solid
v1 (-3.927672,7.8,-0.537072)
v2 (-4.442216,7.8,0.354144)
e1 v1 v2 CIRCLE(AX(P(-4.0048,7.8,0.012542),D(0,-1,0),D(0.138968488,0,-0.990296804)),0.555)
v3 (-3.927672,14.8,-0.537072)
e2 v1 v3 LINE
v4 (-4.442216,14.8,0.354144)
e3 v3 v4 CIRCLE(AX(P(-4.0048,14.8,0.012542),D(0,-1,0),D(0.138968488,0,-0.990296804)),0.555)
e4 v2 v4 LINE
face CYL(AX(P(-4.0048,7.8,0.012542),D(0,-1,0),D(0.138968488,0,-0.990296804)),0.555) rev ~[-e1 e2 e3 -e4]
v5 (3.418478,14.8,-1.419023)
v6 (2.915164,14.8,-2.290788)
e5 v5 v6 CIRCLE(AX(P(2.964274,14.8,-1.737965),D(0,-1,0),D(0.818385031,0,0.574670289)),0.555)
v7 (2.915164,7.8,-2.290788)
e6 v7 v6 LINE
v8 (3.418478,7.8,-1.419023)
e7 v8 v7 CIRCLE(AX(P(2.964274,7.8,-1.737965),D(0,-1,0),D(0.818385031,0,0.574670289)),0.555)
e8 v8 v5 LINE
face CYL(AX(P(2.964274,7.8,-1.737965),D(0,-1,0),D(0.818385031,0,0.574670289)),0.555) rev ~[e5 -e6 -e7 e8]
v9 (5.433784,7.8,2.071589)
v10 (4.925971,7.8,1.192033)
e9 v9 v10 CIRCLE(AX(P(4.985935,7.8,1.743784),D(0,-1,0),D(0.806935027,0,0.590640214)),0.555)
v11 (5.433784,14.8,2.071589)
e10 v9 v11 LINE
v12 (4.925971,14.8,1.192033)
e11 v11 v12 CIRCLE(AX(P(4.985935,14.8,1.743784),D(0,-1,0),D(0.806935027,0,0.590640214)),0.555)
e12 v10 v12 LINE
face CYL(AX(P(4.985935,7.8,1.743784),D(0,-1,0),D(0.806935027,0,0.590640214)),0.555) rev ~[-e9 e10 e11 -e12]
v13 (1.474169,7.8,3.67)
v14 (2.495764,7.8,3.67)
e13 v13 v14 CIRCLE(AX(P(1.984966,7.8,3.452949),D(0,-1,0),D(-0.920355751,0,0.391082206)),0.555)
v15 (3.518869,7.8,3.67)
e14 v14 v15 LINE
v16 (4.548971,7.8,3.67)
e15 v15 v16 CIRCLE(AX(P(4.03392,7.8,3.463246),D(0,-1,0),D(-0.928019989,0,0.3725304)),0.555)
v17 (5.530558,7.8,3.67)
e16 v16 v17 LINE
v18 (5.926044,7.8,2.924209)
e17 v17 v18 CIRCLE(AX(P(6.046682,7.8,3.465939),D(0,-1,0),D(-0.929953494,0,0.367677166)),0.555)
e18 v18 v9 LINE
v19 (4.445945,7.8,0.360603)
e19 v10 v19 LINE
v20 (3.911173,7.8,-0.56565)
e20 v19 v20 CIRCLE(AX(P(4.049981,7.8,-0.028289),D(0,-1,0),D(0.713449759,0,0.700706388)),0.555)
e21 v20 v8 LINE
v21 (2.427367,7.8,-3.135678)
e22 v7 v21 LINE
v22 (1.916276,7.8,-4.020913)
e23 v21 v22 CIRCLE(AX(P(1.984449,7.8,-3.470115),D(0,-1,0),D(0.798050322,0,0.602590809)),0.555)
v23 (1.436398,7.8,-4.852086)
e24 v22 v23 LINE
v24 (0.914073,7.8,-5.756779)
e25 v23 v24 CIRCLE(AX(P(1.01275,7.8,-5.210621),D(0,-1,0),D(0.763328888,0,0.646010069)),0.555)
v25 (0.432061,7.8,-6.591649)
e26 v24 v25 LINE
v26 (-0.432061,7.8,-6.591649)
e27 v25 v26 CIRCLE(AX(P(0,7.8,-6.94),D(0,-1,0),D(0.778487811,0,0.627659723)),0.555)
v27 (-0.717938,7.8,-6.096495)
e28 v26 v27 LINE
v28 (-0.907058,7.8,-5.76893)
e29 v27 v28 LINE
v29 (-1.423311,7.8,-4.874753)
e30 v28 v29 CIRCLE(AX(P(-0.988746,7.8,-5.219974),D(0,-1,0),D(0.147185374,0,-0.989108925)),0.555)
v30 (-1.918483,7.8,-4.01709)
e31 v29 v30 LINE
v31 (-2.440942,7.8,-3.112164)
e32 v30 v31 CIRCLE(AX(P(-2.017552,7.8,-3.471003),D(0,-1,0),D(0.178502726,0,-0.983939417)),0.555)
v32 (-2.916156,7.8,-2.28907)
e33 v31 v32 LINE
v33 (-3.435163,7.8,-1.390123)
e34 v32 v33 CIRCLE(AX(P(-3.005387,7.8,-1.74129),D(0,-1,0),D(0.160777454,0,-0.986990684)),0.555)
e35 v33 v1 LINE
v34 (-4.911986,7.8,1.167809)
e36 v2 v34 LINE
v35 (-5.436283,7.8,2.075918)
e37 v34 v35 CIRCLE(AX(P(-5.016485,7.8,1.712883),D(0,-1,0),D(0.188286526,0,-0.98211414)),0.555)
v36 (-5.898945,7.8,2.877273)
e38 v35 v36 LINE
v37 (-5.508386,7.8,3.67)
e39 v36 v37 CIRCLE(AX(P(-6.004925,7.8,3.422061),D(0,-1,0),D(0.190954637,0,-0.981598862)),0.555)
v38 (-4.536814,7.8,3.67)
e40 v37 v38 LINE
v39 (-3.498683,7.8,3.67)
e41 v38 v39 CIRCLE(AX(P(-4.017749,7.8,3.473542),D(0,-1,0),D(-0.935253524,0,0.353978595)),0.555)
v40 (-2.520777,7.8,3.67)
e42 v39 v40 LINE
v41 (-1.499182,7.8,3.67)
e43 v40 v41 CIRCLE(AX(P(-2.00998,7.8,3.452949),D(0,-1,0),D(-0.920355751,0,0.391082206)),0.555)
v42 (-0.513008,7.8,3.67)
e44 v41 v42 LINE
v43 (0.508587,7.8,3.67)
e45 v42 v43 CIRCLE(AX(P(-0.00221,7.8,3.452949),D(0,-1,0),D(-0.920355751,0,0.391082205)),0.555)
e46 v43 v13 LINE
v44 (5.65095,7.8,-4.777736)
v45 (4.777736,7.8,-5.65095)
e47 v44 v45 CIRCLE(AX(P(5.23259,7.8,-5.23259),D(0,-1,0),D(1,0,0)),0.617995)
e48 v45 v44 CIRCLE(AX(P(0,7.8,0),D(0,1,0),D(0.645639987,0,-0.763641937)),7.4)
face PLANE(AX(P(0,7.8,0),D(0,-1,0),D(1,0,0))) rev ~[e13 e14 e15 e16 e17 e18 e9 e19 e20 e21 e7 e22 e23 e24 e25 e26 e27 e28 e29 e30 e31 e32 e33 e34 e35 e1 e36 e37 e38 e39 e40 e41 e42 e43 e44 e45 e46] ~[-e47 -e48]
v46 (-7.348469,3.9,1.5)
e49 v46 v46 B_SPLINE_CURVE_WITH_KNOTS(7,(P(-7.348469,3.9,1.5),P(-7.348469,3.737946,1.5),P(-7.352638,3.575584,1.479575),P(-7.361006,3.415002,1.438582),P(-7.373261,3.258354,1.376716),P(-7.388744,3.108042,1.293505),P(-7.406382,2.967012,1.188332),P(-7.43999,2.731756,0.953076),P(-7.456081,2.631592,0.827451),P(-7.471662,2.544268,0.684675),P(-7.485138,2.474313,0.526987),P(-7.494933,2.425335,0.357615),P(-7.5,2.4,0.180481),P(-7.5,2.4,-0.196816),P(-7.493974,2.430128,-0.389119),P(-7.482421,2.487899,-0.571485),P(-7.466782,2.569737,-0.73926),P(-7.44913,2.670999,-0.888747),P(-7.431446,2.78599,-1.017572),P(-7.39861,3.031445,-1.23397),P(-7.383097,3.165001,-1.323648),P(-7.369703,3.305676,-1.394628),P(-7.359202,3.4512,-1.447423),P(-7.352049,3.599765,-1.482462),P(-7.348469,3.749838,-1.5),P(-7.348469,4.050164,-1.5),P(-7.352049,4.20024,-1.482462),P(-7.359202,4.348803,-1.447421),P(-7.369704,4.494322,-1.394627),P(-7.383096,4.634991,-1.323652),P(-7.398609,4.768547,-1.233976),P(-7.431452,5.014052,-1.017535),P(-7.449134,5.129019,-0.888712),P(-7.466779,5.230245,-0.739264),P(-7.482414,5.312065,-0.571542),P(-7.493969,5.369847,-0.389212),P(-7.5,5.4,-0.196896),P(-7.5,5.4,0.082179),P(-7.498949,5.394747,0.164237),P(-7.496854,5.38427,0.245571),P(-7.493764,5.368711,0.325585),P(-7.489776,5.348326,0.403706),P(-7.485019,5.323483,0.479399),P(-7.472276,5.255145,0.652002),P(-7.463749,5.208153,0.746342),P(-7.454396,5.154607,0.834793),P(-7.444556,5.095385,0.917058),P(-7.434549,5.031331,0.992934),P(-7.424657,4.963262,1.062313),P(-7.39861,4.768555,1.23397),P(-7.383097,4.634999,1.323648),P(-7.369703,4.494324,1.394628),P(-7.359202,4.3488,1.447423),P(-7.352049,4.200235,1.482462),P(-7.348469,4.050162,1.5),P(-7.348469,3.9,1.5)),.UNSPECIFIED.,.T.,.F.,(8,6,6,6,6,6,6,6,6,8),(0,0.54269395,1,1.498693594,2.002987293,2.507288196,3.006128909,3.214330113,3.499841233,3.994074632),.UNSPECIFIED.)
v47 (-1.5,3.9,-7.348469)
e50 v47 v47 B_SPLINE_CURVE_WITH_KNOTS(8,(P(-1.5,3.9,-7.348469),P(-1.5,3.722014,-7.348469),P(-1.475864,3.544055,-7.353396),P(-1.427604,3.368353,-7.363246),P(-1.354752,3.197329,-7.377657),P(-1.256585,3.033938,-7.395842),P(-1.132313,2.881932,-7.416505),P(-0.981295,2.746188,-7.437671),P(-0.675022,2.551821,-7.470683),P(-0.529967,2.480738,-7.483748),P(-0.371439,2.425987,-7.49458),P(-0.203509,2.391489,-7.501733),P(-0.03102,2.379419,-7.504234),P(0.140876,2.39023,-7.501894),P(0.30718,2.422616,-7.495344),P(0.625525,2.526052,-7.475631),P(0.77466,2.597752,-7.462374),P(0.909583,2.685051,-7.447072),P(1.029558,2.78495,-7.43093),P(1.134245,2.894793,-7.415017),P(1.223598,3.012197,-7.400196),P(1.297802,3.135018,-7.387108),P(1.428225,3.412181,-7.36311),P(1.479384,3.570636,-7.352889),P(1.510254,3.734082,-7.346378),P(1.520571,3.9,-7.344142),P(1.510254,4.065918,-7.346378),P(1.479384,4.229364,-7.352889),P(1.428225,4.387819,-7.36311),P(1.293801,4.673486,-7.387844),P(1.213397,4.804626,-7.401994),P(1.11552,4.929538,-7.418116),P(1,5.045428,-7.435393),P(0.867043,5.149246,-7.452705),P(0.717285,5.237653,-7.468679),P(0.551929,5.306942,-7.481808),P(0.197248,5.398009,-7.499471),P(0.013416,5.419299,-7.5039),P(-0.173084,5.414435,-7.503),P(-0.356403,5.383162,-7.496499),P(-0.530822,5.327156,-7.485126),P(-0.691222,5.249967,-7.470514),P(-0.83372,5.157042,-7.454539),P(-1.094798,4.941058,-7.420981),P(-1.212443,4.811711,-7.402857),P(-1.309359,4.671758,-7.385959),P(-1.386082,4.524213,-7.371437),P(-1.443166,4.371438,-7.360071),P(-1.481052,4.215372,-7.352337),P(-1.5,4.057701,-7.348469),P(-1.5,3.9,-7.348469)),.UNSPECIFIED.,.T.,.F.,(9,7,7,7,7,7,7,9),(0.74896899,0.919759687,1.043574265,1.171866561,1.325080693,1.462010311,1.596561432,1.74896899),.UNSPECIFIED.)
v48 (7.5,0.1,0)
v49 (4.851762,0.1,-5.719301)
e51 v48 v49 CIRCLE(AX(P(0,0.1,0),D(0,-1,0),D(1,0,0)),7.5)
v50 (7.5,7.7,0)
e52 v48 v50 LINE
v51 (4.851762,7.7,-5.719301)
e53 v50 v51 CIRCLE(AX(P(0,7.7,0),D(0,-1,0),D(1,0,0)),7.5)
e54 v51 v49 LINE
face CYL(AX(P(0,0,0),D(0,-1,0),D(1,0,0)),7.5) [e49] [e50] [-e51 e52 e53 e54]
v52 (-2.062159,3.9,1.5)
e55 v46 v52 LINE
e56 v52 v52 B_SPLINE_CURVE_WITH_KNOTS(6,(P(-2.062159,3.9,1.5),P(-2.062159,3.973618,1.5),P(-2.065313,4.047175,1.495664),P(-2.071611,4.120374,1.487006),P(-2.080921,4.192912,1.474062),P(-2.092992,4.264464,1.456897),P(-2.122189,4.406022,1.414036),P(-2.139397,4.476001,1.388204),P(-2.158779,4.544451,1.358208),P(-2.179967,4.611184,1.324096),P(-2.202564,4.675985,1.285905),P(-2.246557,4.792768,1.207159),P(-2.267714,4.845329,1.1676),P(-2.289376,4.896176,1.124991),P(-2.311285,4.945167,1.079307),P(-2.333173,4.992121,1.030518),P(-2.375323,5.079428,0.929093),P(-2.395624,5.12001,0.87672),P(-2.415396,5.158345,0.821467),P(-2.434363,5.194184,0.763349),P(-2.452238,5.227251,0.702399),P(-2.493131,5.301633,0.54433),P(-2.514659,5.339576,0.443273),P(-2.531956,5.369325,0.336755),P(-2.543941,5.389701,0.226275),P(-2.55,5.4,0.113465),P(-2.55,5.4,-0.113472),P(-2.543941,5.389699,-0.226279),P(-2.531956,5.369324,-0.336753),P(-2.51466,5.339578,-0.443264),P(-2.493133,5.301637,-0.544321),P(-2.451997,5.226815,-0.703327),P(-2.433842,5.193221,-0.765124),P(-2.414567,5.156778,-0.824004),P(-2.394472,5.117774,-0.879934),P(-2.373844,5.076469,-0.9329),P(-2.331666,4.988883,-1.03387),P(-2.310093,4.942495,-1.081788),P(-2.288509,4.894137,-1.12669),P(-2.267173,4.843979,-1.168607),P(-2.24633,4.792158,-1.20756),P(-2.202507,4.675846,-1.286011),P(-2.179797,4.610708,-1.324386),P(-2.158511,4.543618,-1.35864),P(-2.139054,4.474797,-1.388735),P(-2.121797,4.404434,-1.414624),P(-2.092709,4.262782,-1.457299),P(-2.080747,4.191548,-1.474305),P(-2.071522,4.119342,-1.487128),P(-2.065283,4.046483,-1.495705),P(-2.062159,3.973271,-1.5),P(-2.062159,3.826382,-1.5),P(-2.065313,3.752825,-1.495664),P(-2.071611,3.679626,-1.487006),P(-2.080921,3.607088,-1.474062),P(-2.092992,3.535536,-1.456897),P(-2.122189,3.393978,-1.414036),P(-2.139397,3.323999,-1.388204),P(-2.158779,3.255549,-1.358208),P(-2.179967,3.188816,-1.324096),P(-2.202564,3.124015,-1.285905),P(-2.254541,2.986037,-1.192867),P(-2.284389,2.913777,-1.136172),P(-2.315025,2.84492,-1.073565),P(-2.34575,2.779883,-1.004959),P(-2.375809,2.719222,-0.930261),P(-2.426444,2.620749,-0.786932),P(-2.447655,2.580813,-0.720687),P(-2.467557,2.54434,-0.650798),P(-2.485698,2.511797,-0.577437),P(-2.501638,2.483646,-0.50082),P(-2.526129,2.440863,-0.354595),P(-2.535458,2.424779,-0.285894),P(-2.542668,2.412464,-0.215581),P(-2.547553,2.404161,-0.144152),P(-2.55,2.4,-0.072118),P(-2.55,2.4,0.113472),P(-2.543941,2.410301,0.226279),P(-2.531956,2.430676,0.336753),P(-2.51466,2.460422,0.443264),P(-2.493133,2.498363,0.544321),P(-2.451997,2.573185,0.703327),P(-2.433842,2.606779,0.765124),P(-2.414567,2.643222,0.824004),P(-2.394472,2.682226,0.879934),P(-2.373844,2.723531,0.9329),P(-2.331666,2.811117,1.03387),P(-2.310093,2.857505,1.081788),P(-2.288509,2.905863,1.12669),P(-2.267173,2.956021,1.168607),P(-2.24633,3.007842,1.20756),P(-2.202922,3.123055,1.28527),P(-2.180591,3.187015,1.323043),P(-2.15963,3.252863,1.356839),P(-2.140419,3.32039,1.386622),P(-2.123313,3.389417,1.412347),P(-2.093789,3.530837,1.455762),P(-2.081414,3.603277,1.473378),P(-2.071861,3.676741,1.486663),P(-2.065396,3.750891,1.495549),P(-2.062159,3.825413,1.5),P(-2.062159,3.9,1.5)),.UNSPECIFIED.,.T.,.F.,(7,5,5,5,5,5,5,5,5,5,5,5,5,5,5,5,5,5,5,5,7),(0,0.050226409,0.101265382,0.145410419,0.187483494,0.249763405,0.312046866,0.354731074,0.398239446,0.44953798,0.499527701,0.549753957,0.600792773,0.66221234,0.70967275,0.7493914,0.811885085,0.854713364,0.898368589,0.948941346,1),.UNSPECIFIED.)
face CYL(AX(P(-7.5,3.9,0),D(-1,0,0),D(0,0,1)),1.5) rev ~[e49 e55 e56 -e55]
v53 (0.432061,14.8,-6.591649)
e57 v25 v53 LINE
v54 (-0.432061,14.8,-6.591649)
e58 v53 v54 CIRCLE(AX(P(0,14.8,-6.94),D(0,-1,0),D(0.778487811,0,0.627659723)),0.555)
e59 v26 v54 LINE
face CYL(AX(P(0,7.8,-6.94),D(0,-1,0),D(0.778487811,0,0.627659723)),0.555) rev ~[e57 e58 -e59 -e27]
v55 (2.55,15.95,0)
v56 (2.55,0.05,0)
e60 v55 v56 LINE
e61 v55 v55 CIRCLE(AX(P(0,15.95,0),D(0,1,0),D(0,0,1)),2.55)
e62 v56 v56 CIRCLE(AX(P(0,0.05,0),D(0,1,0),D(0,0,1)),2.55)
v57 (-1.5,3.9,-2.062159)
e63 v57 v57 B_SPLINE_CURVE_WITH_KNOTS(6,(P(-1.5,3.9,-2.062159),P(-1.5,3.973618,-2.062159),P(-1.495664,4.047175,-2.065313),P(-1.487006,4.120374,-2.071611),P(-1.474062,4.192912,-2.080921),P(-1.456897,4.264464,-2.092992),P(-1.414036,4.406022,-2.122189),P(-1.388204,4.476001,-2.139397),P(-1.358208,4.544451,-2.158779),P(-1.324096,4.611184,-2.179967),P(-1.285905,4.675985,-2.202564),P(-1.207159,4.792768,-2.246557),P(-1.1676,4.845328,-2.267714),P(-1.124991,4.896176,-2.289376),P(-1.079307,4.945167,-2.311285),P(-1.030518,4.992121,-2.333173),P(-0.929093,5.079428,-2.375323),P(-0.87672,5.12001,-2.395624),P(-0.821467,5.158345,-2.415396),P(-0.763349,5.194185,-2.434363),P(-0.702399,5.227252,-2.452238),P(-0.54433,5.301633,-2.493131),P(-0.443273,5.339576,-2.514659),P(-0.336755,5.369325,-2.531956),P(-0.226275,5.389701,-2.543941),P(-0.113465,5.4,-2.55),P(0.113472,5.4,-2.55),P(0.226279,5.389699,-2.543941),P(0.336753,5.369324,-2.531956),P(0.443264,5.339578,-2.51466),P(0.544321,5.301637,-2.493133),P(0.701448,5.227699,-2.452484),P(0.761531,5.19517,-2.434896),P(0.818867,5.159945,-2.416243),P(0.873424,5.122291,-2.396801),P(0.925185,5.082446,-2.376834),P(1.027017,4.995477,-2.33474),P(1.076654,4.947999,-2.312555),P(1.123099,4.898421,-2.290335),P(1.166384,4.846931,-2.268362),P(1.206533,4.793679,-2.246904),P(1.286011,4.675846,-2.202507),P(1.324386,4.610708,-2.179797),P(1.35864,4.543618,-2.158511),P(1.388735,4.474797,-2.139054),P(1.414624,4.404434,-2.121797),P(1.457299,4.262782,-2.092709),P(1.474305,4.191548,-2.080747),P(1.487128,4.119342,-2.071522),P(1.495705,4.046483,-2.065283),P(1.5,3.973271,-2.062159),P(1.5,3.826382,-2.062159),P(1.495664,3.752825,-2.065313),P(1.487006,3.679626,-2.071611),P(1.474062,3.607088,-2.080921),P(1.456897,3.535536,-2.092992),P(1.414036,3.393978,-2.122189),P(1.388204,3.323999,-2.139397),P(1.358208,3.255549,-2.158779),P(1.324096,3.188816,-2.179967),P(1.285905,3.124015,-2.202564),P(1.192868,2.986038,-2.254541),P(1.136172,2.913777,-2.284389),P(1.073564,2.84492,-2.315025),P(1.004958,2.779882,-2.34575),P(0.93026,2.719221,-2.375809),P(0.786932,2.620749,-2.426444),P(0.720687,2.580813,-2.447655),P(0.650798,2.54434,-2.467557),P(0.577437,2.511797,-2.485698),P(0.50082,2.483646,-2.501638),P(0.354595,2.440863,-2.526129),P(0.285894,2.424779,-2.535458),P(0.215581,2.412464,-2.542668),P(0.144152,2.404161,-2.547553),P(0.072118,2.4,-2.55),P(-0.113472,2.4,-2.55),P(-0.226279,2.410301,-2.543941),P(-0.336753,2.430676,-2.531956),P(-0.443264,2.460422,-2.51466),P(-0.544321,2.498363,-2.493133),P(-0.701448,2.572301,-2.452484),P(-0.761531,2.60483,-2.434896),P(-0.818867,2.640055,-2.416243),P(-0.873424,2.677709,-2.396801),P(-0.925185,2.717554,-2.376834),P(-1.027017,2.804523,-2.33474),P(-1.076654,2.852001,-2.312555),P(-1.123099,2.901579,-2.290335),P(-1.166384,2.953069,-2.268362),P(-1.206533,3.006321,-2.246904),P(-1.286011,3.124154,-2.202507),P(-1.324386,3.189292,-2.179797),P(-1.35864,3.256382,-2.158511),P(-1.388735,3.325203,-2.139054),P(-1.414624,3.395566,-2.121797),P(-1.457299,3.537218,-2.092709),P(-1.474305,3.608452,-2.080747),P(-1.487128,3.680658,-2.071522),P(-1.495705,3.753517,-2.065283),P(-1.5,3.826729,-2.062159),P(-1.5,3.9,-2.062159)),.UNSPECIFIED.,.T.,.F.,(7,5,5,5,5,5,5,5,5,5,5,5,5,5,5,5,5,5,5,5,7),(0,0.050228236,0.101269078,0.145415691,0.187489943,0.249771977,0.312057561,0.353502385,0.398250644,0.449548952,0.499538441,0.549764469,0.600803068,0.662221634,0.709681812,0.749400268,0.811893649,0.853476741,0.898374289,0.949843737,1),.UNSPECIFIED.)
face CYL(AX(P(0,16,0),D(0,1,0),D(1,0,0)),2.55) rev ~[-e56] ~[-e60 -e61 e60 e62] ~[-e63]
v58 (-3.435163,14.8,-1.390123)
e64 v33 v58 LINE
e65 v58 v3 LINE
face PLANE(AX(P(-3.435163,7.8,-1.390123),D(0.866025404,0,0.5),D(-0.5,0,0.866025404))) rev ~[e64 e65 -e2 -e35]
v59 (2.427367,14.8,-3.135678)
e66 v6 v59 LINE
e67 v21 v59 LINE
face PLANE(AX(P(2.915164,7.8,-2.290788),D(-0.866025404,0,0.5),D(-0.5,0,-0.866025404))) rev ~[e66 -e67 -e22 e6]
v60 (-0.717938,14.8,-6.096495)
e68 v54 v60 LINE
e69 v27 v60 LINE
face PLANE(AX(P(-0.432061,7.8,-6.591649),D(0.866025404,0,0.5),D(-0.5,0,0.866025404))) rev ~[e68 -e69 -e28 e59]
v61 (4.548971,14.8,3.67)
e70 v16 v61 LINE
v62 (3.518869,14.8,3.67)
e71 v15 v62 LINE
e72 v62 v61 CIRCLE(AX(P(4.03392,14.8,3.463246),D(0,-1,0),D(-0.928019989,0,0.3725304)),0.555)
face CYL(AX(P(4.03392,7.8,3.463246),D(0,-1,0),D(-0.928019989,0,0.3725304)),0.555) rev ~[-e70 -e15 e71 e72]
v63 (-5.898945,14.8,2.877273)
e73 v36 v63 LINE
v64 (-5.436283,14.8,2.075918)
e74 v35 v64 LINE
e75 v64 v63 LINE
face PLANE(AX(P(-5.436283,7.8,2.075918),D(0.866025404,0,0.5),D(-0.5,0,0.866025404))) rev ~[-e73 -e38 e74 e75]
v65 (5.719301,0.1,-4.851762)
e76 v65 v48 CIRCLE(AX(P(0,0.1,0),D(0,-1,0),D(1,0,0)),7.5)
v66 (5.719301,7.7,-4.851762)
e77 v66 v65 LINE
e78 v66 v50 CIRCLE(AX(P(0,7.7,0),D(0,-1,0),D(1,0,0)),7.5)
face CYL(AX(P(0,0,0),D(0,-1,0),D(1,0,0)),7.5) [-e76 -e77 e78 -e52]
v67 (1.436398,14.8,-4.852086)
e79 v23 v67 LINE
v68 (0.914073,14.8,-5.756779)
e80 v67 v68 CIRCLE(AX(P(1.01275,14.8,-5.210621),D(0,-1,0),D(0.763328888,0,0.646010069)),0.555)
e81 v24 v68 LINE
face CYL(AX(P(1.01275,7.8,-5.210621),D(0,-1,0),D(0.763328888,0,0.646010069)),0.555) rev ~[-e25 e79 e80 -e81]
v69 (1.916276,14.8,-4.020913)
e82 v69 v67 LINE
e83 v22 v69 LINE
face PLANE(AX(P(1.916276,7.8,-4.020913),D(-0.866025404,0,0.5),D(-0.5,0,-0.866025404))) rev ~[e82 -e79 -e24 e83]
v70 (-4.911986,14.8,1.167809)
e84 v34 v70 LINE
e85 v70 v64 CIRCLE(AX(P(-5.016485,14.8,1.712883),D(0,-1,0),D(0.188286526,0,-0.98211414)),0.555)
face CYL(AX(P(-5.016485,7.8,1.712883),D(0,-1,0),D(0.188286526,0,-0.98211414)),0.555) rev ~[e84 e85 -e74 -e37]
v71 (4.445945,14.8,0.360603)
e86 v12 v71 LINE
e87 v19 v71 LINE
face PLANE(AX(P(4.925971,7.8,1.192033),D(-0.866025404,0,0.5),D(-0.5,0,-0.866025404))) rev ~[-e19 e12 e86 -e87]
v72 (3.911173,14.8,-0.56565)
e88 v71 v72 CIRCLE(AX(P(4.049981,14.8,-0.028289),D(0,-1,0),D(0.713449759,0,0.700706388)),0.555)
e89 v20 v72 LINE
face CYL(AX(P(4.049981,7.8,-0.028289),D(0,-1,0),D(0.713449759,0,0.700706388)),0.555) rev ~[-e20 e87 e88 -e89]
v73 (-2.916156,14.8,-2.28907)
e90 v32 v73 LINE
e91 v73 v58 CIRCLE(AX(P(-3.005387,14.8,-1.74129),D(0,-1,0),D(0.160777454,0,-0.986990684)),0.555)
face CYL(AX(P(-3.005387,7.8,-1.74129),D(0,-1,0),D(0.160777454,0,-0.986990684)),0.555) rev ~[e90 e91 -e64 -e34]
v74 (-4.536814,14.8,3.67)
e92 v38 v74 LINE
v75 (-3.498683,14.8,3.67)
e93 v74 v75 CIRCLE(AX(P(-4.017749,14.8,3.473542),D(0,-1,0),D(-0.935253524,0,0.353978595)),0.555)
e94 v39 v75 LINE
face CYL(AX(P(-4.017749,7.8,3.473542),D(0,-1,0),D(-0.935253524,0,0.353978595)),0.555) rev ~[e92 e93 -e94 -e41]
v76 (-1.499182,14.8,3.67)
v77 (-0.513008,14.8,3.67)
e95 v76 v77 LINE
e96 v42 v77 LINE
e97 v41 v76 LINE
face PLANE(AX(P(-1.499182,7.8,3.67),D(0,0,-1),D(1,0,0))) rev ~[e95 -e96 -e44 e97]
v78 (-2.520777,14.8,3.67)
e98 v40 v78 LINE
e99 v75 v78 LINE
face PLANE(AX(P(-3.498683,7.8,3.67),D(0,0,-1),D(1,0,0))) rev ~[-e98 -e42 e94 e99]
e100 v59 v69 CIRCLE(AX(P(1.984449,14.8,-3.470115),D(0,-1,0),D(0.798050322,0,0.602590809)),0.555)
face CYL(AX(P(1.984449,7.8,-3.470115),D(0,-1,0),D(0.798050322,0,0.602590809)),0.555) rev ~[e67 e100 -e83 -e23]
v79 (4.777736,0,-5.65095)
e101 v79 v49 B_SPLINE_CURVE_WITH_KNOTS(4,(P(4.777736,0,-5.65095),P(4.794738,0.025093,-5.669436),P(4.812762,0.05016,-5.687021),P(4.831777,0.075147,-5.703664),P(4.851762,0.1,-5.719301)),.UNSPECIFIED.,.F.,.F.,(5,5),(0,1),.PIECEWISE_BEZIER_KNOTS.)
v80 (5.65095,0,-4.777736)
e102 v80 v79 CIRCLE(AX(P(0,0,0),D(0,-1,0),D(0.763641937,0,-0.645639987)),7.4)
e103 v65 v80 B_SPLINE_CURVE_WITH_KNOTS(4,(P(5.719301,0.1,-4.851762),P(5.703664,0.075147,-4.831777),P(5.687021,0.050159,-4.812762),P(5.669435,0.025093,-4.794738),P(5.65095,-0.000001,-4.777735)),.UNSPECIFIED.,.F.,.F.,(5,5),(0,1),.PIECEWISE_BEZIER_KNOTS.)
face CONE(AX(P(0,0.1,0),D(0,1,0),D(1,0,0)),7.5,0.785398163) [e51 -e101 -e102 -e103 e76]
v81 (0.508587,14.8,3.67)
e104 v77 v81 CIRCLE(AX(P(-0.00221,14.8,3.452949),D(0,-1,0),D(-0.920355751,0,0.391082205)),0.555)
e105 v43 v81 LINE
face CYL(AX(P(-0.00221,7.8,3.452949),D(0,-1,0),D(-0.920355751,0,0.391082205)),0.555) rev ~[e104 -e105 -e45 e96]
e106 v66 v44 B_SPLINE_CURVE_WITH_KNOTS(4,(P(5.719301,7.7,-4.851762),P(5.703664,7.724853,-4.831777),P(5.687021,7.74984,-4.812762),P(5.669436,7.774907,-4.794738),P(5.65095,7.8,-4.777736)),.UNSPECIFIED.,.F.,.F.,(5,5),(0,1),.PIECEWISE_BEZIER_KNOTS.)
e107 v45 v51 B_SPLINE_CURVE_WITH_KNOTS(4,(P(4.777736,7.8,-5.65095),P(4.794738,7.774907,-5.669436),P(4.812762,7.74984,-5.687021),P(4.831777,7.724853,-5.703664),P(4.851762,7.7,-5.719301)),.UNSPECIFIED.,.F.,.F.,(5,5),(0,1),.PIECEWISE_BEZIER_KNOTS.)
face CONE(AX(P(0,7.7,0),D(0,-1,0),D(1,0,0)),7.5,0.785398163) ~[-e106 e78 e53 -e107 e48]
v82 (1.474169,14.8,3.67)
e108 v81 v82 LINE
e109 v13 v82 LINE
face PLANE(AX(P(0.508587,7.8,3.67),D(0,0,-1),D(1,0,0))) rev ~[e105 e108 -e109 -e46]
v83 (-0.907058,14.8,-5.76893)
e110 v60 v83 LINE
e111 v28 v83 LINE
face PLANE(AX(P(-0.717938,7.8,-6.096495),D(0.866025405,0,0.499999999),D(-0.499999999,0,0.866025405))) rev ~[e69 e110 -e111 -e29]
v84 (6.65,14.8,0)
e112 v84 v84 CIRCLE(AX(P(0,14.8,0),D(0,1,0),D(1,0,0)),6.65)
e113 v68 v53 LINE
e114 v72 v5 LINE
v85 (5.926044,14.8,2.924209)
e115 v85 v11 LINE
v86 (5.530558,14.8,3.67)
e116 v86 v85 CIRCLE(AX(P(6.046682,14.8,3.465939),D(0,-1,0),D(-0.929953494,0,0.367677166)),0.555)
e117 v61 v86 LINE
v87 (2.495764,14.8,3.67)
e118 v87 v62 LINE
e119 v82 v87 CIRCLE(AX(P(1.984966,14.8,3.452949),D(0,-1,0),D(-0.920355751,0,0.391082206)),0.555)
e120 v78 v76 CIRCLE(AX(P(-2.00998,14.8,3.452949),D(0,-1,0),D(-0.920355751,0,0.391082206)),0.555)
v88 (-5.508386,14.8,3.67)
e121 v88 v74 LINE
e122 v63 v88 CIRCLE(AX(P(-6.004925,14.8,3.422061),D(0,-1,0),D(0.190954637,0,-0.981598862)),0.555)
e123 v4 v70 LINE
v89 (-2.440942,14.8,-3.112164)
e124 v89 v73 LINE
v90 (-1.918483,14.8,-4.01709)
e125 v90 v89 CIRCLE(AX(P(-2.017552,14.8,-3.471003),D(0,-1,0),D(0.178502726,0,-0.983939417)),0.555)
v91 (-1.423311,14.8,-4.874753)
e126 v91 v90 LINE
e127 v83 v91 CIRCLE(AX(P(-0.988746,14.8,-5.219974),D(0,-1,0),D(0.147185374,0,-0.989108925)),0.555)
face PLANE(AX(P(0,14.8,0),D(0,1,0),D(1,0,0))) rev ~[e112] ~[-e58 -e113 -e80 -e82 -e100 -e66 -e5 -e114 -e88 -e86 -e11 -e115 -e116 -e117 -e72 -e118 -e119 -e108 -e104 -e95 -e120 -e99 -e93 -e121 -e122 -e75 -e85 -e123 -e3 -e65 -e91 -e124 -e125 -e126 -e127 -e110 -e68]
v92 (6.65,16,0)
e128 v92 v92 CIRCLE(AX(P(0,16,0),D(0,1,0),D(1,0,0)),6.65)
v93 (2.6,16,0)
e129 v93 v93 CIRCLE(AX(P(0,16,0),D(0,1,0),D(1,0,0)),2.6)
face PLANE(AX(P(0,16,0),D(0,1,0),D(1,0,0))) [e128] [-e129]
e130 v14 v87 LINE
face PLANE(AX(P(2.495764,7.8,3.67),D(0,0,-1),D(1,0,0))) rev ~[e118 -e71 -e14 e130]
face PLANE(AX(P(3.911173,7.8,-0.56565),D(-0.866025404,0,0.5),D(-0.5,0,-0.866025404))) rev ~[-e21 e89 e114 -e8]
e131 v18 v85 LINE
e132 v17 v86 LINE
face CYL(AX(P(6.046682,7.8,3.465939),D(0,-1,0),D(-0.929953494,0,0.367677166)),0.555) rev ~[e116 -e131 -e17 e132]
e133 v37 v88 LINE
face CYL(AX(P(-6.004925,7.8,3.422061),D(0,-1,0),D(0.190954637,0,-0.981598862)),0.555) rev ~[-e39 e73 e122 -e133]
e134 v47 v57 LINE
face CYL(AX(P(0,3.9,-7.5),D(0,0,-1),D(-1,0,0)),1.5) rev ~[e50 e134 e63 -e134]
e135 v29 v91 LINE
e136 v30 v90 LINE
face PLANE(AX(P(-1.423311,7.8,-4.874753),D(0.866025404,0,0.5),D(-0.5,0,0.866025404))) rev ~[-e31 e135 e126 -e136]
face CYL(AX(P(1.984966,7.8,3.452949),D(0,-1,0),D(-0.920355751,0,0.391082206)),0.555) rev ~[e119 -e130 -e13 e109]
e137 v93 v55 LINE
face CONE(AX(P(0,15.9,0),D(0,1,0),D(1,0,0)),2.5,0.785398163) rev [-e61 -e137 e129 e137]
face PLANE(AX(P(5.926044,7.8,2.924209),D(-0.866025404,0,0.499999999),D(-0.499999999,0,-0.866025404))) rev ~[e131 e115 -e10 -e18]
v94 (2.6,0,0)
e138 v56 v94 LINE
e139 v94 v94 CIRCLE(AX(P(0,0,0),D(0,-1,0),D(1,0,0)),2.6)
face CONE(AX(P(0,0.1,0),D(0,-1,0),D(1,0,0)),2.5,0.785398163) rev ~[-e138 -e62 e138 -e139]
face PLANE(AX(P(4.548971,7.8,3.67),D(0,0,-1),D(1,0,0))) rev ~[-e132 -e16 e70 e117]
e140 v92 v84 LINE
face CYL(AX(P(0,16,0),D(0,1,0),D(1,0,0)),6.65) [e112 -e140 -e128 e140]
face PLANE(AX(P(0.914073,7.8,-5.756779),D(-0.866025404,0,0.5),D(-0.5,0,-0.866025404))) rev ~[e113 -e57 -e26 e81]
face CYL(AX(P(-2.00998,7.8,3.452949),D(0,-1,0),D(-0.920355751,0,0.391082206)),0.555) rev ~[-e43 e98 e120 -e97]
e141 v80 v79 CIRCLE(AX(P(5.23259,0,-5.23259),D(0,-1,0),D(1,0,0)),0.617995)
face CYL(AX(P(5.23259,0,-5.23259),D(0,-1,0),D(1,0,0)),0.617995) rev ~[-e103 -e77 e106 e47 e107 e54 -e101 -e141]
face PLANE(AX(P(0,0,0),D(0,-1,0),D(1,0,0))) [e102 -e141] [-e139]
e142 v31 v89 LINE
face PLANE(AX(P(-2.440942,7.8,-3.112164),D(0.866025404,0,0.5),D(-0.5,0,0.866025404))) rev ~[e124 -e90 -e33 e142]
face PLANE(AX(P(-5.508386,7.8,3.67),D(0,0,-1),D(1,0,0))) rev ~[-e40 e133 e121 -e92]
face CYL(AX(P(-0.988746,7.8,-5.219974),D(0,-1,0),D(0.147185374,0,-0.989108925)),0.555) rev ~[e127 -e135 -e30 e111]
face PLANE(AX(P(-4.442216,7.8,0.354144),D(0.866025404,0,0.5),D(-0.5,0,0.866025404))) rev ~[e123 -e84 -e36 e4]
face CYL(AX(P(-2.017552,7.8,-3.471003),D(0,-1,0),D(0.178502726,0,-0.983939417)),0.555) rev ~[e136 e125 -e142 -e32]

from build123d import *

# Parameters (mm, degrees)
P_IDAT_START            = 7.8
SKICA1_R                = 2.5
P_IDAT_VYSUNUT_M1_DEPTH = 7
SKICA2_R                = 3.5
SKICA2_R_2              = 2.5
P_IDAT_VYSUNUT_M2_DEPTH = 7.8
SKICA3_R                = 3.5
SKICA3_R_2              = 2.5
P_IDAT_VYSUNUT_M3_DEPTH = 1.2
SKICA5_R                = 7.5
SKICA5_R_2              = 3.5
P_IDAT_VYSUNUT_M4_DEPTH = 1.2
SKICA6_R                = 7.5
SKICA6_R_2              = 3.5
P_IDAT_VYSUNUT_M5_DEPTH = 7.8
ZKOSEN_1_SIZE           = 0.1
ZKOSEN_2_SIZE           = 0.1
ZKOSEN_3_SIZE           = 0.1
SKETCH8_OUTSIDE_W       = 22.314
SKETCH8_OUTSIDE_H       = 22.314
SKETCH8_OUTSIDE_R       = 6.65
CUT_EXTRUDE2_DEPTH      = 5
SKETCH32_R              = 6.65
CUT_EXTRUDE3_DEPTH      = 7
BOSS_EXTRUDE1_DEPTH     = 7
SKETCH34_R              = 2.55
CUT_EXTRUDE4_DEPTH      = 30
SKETCH20_R              = 1.5
CUT_EXTRUDE5_DEPTH      = 8
SKETCH19_R              = 1.5
CUT_EXTRUDE6_DEPTH      = 8
SKETCH30_R              = 0.617994848
CUT_EXTRUDE7_DEPTH      = 8


with BuildPart() as part:
    # Skica1 → Přidat vysunutím1 (new body)
    with BuildSketch(Plane(origin=(0, 0, 0), x_dir=(1, 0, 0), z_dir=(0, 1, 0)).offset(P_IDAT_START)):
        with BuildLine():
            ThreePointArc((-5.730143195, 1.098270155), (-5.09645097, 1.530497044), (-5.387174672, 2.240331989))
            ThreePointArc((-5.387174672, 2.240331989), (-5.468060657, 2.292707421), (-5.540463547, 2.356296335))
            ThreePointArc((-5.540463547, 2.356296335), (-5.573874331, 2.399596558), (-5.596043873, 2.44959357))
            ThreePointArc((-5.596043873, 2.44959357), (-5.50369925, 2.650567912), (-5.404139771, 2.848067596))
            ThreePointArc((-5.404139771, 2.848067596), (-5.351227535, 2.86190541), (-5.296542742, 2.862779021))
            ThreePointArc((-5.296542742, 2.862779021), (-5.201685094, 2.845815675), (-5.110305882, 2.815228615))
            ThreePointArc((-5.110305882, 2.815228615), (-4.374063308, 3.030479148), (-4.431206919, 3.795410862))
            ThreePointArc((-4.431206919, 3.795410862), (-4.491949163, 3.870218002), (-4.541158349, 3.953068377))
            ThreePointArc((-4.541158349, 3.953068377), (-4.559553388, 4.004573836), (-4.565187949, 4.058974585))
            ThreePointArc((-4.565187949, 4.058974585), (-4.415258506, 4.221576484), (-4.259541056, 4.378644275))
            ThreePointArc((-4.259541056, 4.378644275), (-4.204942409, 4.375454038), (-4.15266412, 4.359386362))
            ThreePointArc((-4.15266412, 4.359386362), (-4.067691098, 4.313940635), (-3.990236225, 4.256612884))
            ThreePointArc((-3.990236225, 4.256612884), (-3.223511854, 4.233816838), (-3.041481758, 4.978968476))
            ThreePointArc((-3.041481758, 4.978968476), (-3.076134388, 5.06888468), (-3.097332931, 5.162886543))
            ThreePointArc((-3.097332931, 5.162886543), (-3.09891159, 5.217555525), (-3.08745962, 5.271034888))
            ThreePointArc((-3.08745962, 5.271034888), (-2.894621497, 5.379347737), (-2.697988784, 5.480608745))
            ThreePointArc((-2.697988784, 5.480608745), (-2.647048223, 5.460702739), (-2.6022938, 5.429266591))
            ThreePointArc((-2.6022938, 5.429266591), (-2.535523156, 5.359787029), (-2.479574443, 5.281330225))
            ThreePointArc((-2.479574443, 5.281330225), (-1.7574206, 5.022719037), (-1.354035171, 5.675149965))
            ThreePointArc((-1.354035171, 5.675149965), (-1.359206146, 5.771373608), (-1.350318985, 5.867325402))
            ThreePointArc((-1.350318985, 5.867325402), (-1.334926735, 5.919806527), (-1.307509232, 5.967129569))
            ThreePointArc((-1.307509232, 5.967129569), (-1.090638767, 6.010550954), (-0.872338572, 6.046093045))
            ThreePointArc((-0.872338572, 6.046093045), (-0.830042514, 6.01141981), (-0.797192832, 5.967692379))
            ThreePointArc((-0.797192832, 5.967692379), (-0.755160541, 5.880980125), (-0.726194639, 5.789074167))
            ThreePointArc((-0.726194639, 5.789074167), (-0.119300773, 5.319962501), (0.465953812, 5.815808234))
            ThreePointArc((0.465953812, 5.815808234), (0.490770664, 5.908920276), (0.528873591, 5.997429571))
            ThreePointArc((0.528873591, 5.997429571), (0.55973005, 6.04258562), (0.600429269, 6.079120034))
            ThreePointArc((0.600429269, 6.079120034), (0.820103284, 6.053399565), (1.038702217, 6.019743632))
            ThreePointArc((1.038702217, 6.019743632), (1.06821354, 5.973697225), (1.085942924, 5.921958857))
            ThreePointArc((1.085942924, 5.921958857), (1.099122448, 5.826501911), (1.098270155, 5.730143195))
            ThreePointArc((1.098270155, 5.730143195), (1.530497044, 5.09645097), (2.240331989, 5.387174672))
            ThreePointArc((2.240331989, 5.387174672), (2.292707421, 5.468060657), (2.356296335, 5.540463547))
            ThreePointArc((2.356296335, 5.540463547), (2.399596558, 5.573874331), (2.44959357, 5.596043873))
            ThreePointArc((2.44959357, 5.596043873), (2.650567912, 5.50369925), (2.848067596, 5.404139771))
            ThreePointArc((2.848067596, 5.404139771), (2.86190541, 5.351227535), (2.862779021, 5.296542742))
            ThreePointArc((2.862779021, 5.296542742), (2.845815675, 5.201685094), (2.815228615, 5.110305882))
            ThreePointArc((2.815228615, 5.110305882), (3.030479148, 4.374063308), (3.795410862, 4.431206919))
            ThreePointArc((3.795410862, 4.431206919), (3.870218002, 4.491949163), (3.953068377, 4.541158349))
            ThreePointArc((3.953068377, 4.541158349), (4.004573836, 4.559553388), (4.058974585, 4.565187949))
            ThreePointArc((4.058974585, 4.565187949), (4.221576484, 4.415258506), (4.378644275, 4.259541056))
            ThreePointArc((4.378644275, 4.259541056), (4.375454038, 4.204942409), (4.359386362, 4.15266412))
            ThreePointArc((4.359386362, 4.15266412), (4.313940635, 4.067691098), (4.256612884, 3.990236225))
            ThreePointArc((4.256612884, 3.990236225), (4.233816838, 3.223511854), (4.978968476, 3.041481758))
            ThreePointArc((4.978968476, 3.041481758), (5.06888468, 3.076134388), (5.162886543, 3.097332931))
            ThreePointArc((5.162886543, 3.097332931), (5.217555525, 3.09891159), (5.271034888, 3.08745962))
            ThreePointArc((5.271034888, 3.08745962), (5.379347737, 2.894621497), (5.480608745, 2.697988784))
            ThreePointArc((5.480608745, 2.697988784), (5.460702739, 2.647048223), (5.429266591, 2.6022938))
            ThreePointArc((5.429266591, 2.6022938), (5.359787029, 2.535523156), (5.281330225, 2.479574443))
            ThreePointArc((5.281330225, 2.479574443), (5.022719037, 1.7574206), (5.675149965, 1.354035171))
            ThreePointArc((5.675149965, 1.354035171), (5.771373608, 1.359206146), (5.867325402, 1.350318985))
            ThreePointArc((5.867325402, 1.350318985), (5.919806527, 1.334926735), (5.967129569, 1.307509232))
            ThreePointArc((5.967129569, 1.307509232), (6.010550954, 1.090638767), (6.046093045, 0.872338572))
            ThreePointArc((6.046093045, 0.872338572), (6.01141981, 0.830042514), (5.967692379, 0.797192832))
            ThreePointArc((5.967692379, 0.797192832), (5.880980125, 0.755160541), (5.789074167, 0.726194639))
            ThreePointArc((5.789074167, 0.726194639), (5.319962501, 0.119300773), (5.815808234, -0.465953812))
            ThreePointArc((5.815808234, -0.465953812), (5.908920276, -0.490770664), (5.997429571, -0.528873591))
            ThreePointArc((5.997429571, -0.528873591), (6.04258562, -0.55973005), (6.079120034, -0.600429269))
            ThreePointArc((6.079120034, -0.600429269), (6.053399565, -0.820103284), (6.019743632, -1.038702217))
            ThreePointArc((6.019743632, -1.038702217), (5.973697225, -1.06821354), (5.921958857, -1.085942924))
            ThreePointArc((5.921958857, -1.085942924), (5.826501911, -1.099122448), (5.730143195, -1.098270155))
            ThreePointArc((5.730143195, -1.098270155), (5.09645097, -1.530497044), (5.387174672, -2.240331989))
            ThreePointArc((5.387174672, -2.240331989), (5.468060657, -2.292707421), (5.540463547, -2.356296335))
            ThreePointArc((5.540463547, -2.356296335), (5.573874331, -2.399596558), (5.596043873, -2.44959357))
            ThreePointArc((5.596043873, -2.44959357), (5.50369925, -2.650567911), (5.404139771, -2.848067596))
            ThreePointArc((5.404139771, -2.848067596), (5.351227535, -2.86190541), (5.296542742, -2.862779021))
            ThreePointArc((5.296542742, -2.862779021), (5.201685094, -2.845815675), (5.110305882, -2.815228615))
            ThreePointArc((5.110305882, -2.815228615), (4.374063308, -3.030479148), (4.431206919, -3.795410862))
            ThreePointArc((4.431206919, -3.795410862), (4.491949163, -3.870218002), (4.541158349, -3.953068377))
            ThreePointArc((4.541158349, -3.953068377), (4.559553388, -4.004573836), (4.565187949, -4.058974585))
            ThreePointArc((4.565187949, -4.058974585), (4.415258506, -4.221576484), (4.259541056, -4.378644275))
            ThreePointArc((4.259541056, -4.378644275), (4.204942409, -4.375454038), (4.15266412, -4.359386362))
            ThreePointArc((4.15266412, -4.359386362), (4.067691098, -4.313940635), (3.990236225, -4.256612884))
            ThreePointArc((3.990236225, -4.256612884), (3.223511854, -4.233816838), (3.041481758, -4.978968476))
            ThreePointArc((3.041481758, -4.978968476), (3.076134388, -5.06888468), (3.097332931, -5.162886543))
            ThreePointArc((3.097332931, -5.162886543), (3.09891159, -5.217555525), (3.08745962, -5.271034888))
            ThreePointArc((3.08745962, -5.271034888), (2.894621497, -5.379347737), (2.697988784, -5.480608745))
            ThreePointArc((2.697988784, -5.480608745), (2.647048223, -5.460702739), (2.6022938, -5.429266591))
            ThreePointArc((2.6022938, -5.429266591), (2.535523156, -5.359787029), (2.479574443, -5.281330225))
            ThreePointArc((2.479574443, -5.281330225), (1.7574206, -5.022719037), (1.354035171, -5.675149965))
            ThreePointArc((1.354035171, -5.675149965), (1.359206146, -5.771373608), (1.350318985, -5.867325402))
            ThreePointArc((1.350318985, -5.867325402), (1.334926735, -5.919806527), (1.307509232, -5.967129569))
            ThreePointArc((1.307509232, -5.967129569), (1.090638767, -6.010550954), (0.872338572, -6.046093045))
            ThreePointArc((0.872338572, -6.046093045), (0.830042514, -6.01141981), (0.797192832, -5.967692379))
            ThreePointArc((0.797192832, -5.967692379), (0.755160541, -5.880980125), (0.726194639, -5.789074167))
            ThreePointArc((0.726194639, -5.789074167), (0.119300773, -5.319962501), (-0.465953812, -5.815808234))
            ThreePointArc((-0.465953812, -5.815808234), (-0.490770664, -5.908920276), (-0.528873591, -5.997429571))
            ThreePointArc((-0.528873591, -5.997429571), (-0.55973005, -6.04258562), (-0.600429269, -6.079120034))
            ThreePointArc((-0.600429269, -6.079120034), (-0.820103284, -6.053399565), (-1.038702217, -6.019743632))
            ThreePointArc((-1.038702217, -6.019743632), (-1.06821354, -5.973697225), (-1.085942924, -5.921958857))
            ThreePointArc((-1.085942924, -5.921958857), (-1.099122448, -5.826501911), (-1.098270155, -5.730143195))
            ThreePointArc((-1.098270155, -5.730143195), (-1.530497044, -5.09645097), (-2.240331989, -5.387174672))
            ThreePointArc((-2.240331989, -5.387174672), (-2.292707421, -5.468060657), (-2.356296335, -5.540463547))
            ThreePointArc((-2.356296335, -5.540463547), (-2.399596558, -5.573874331), (-2.44959357, -5.596043873))
            ThreePointArc((-2.44959357, -5.596043873), (-2.650567912, -5.50369925), (-2.848067596, -5.404139771))
            ThreePointArc((-2.848067596, -5.404139771), (-2.86190541, -5.351227535), (-2.862779021, -5.296542742))
            ThreePointArc((-2.862779021, -5.296542742), (-2.845815675, -5.201685094), (-2.815228615, -5.110305882))
            ThreePointArc((-2.815228615, -5.110305882), (-3.030479148, -4.374063308), (-3.795410862, -4.431206919))
            ThreePointArc((-3.795410862, -4.431206919), (-3.870218002, -4.491949163), (-3.953068377, -4.541158349))
            ThreePointArc((-3.953068377, -4.541158349), (-4.004573836, -4.559553388), (-4.058974585, -4.565187949))
            ThreePointArc((-4.058974585, -4.565187949), (-4.221576484, -4.415258506), (-4.378644275, -4.259541056))
            ThreePointArc((-4.378644275, -4.259541056), (-4.375454038, -4.204942409), (-4.359386362, -4.15266412))
            ThreePointArc((-4.359386362, -4.15266412), (-4.313940635, -4.067691098), (-4.256612884, -3.990236225))
            ThreePointArc((-4.256612884, -3.990236225), (-4.233816838, -3.223511854), (-4.978968476, -3.041481758))
            ThreePointArc((-4.978968476, -3.041481758), (-5.06888468, -3.076134388), (-5.162886543, -3.097332931))
            ThreePointArc((-5.162886543, -3.097332931), (-5.217555525, -3.09891159), (-5.271034888, -3.08745962))
            ThreePointArc((-5.271034888, -3.08745962), (-5.379347737, -2.894621497), (-5.480608745, -2.697988784))
            ThreePointArc((-5.480608745, -2.697988784), (-5.460702739, -2.647048223), (-5.429266591, -2.6022938))
            ThreePointArc((-5.429266591, -2.6022938), (-5.359787029, -2.535523156), (-5.281330225, -2.479574443))
            ThreePointArc((-5.281330225, -2.479574443), (-5.022719037, -1.7574206), (-5.675149965, -1.354035171))
            ThreePointArc((-5.675149965, -1.354035171), (-5.771373608, -1.359206146), (-5.867325402, -1.350318985))
            ThreePointArc((-5.867325402, -1.350318985), (-5.919806527, -1.334926735), (-5.967129569, -1.307509232))
            ThreePointArc((-5.967129569, -1.307509232), (-6.010550954, -1.090638767), (-6.046093045, -0.872338572))
            ThreePointArc((-6.046093045, -0.872338572), (-6.01141981, -0.830042514), (-5.967692379, -0.797192832))
            ThreePointArc((-5.967692379, -0.797192832), (-5.880980125, -0.755160541), (-5.789074167, -0.726194639))
            ThreePointArc((-5.789074167, -0.726194639), (-5.319962501, -0.119300773), (-5.815808234, 0.465953812))
            ThreePointArc((-5.815808234, 0.465953812), (-5.908920276, 0.490770664), (-5.997429571, 0.528873591))
            ThreePointArc((-5.997429571, 0.528873591), (-6.04258562, 0.55973005), (-6.079120034, 0.600429269))
            ThreePointArc((-6.079120034, 0.600429269), (-6.053399565, 0.820103284), (-6.019743632, 1.038702217))
            ThreePointArc((-6.019743632, 1.038702217), (-5.973697225, 1.06821354), (-5.921958857, 1.085942924))
            ThreePointArc((-5.921958857, 1.085942924), (-5.826501911, 1.099122448), (-5.730143195, 1.098270155))
        make_face()
        Circle(SKICA1_R, mode=Mode.SUBTRACT)
    extrude(amount=P_IDAT_VYSUNUT_M1_DEPTH)

    # Skica2 → Přidat vysunutím2 (add)
    with BuildSketch(Plane.XZ.offset(-7.8)):
        Circle(SKICA2_R)
        Circle(SKICA2_R_2, mode=Mode.SUBTRACT)
    extrude(amount=P_IDAT_VYSUNUT_M2_DEPTH)

    # Skica3 → Přidat vysunutím3 (add)
    with BuildSketch(Plane(origin=(0, 14.8, 0), x_dir=(1, 0, 0), z_dir=(0, 1, 0))):
        Circle(SKICA3_R)
        Circle(SKICA3_R_2, mode=Mode.SUBTRACT)
    extrude(amount=P_IDAT_VYSUNUT_M3_DEPTH)

    # Zkosení2
    zkosen_2_edges = [part.edges().sort_by_distance(p)[0] for p in [
        (-2.5, 0, 0),
        (-2.5, 16, 0),
    ]]
    chamfer(zkosen_2_edges, length=ZKOSEN_2_SIZE)

    # Sketch32 → Cut-Extrude3 (cut)
    with BuildSketch(Plane(origin=(0, 7.8, 0), x_dir=(1, 0, 0), z_dir=(0, 1, 0))):
        Circle(SKETCH32_R)
    extrude(amount=CUT_EXTRUDE3_DEPTH, mode=Mode.SUBTRACT)



with BuildPart() as body_2:
    # Skica5 → Přidat vysunutím4 (new body)
    with BuildSketch(Plane(origin=(0, 16, 0), x_dir=(1, 0, 0), z_dir=(0, 1, 0))):
        Circle(SKICA5_R)
        Circle(SKICA5_R_2, mode=Mode.SUBTRACT)
    extrude(amount=-P_IDAT_VYSUNUT_M4_DEPTH)

    # Zkosení1
    zkosen_1_edges = [body_2.edges().sort_by_distance(p)[0] for p in [
        (-7.5, 16, 0),
        (-7.5, 14.8, 0),
    ]]
    chamfer(zkosen_1_edges, length=ZKOSEN_1_SIZE)

    # Sketch8 outside → Cut-Extrude2 (cut)
    with BuildSketch(Plane(origin=(0, 16, 0), x_dir=(1, 0, 0), z_dir=(0, 1, 0))):
        Rectangle(SKETCH8_OUTSIDE_W, SKETCH8_OUTSIDE_H)
        Circle(SKETCH8_OUTSIDE_R, mode=Mode.SUBTRACT)
    extrude(amount=-CUT_EXTRUDE2_DEPTH, mode=Mode.SUBTRACT)


with BuildPart() as body_3:
    # Skica6 → Přidat vysunutím5 (new body)
    with BuildSketch(Plane.XZ):
        Circle(SKICA6_R)
        Circle(SKICA6_R_2, mode=Mode.SUBTRACT)
    extrude(amount=-P_IDAT_VYSUNUT_M5_DEPTH)

    # Zkosení3
    zkosen_3_edges = [body_3.edges().sort_by_distance(p)[0] for p in [
        (-7.5, 0, 0),
        (-7.5, 7.8, 0),
    ]]
    chamfer(zkosen_3_edges, length=ZKOSEN_3_SIZE)


with BuildPart() as part_1:
    add(part.part)

    add(body_2.part)  # Boss-Extrude1 merges body 2

    add(body_3.part)  # Boss-Extrude1 merges body 3
    # Sketch25 → Boss-Extrude1 (add)
    with BuildSketch(Plane(origin=(0, 7.8, 0), x_dir=(1, 0, 0), z_dir=(0, 1, 0))):
        with BuildLine():
            Line((-0.717938034, 6.096494849), (-0.907057907, 5.768929619))
            ThreePointArc((-0.907057907, 5.768929619), (-0.50810169, 4.942474166), (-1.423311217, 4.874752658))
            Line((-1.423311217, 4.874752658), (-1.918483232, 4.017089569))
            ThreePointArc((-1.918483232, 4.017089569), (-1.536908146, 3.193503192), (-2.440942413, 3.112163722))
            Line((-2.440942413, 3.112163722), (-2.91615597, 2.289069697))
            ThreePointArc((-2.91615597, 2.289069697), (-2.524743358, 1.463789867), (-3.435162962, 1.390123218))
            Line((-3.435162962, 1.390123218), (-3.927672168, 0.53707225))
            ThreePointArc((-3.927672168, 0.53707225), (-3.52415558, -0.290042476), (-4.442216238, -0.354144223))
            Line((-4.442216238, -0.354144223), (-4.911986074, -1.167809446))
            ThreePointArc((-4.911986074, -1.167809446), (-4.535840997, -1.990382794), (-5.436282951, -2.075918275))
            Line((-5.436282951, -2.075918275), (-5.898945462, -2.877273251))
            ThreePointArc((-5.898945462, -2.877273251), (-5.507068696, -3.176777484), (-5.508386199, -3.67))
            Line((-5.508386199, -3.67), (-4.536814361, -3.67))
            ThreePointArc((-4.536814361, -3.67), (-4.017748656, -2.91854188), (-3.49868295, -3.67))
            Line((-3.49868295, -3.67), (-2.520776964, -3.67))
            ThreePointArc((-2.520776964, -3.67), (-2.009979522, -2.897949376), (-1.499182081, -3.67))
            Line((-1.499182081, -3.67), (-0.513007831, -3.67))
            ThreePointArc((-0.513007831, -3.67), (-0.002210389, -2.897949376), (0.508587053, -3.67))
            Line((0.508587053, -3.67), (1.474168799, -3.67))
            ThreePointArc((1.474168799, -3.67), (1.98496624, -2.897949376), (2.495763682, -3.67))
            Line((2.495763682, -3.67), (3.518869287, -3.67))
            ThreePointArc((3.518869287, -3.67), (4.033920381, -2.908245628), (4.548971475, -3.67))
            Line((4.548971475, -3.67), (5.530558251, -3.67))
            ThreePointArc((5.530558251, -3.67), (5.556358411, -3.205925047), (5.92604395, -2.92420921))
            Line((5.92604395, -2.92420921), (5.4337836, -2.071589272))
            ThreePointArc((5.4337836, -2.071589272), (4.505290561, -2.021283953), (4.925971396, -1.192032735))
            Line((4.925971396, -1.192032735), (4.445945351, -0.360603235))
            ThreePointArc((4.445945351, -0.360603235), (3.569336636, -0.24921119), (3.911172652, 0.565650249))
            Line((3.911172652, 0.565650249), (3.418477875, 1.419022635))
            ThreePointArc((3.418477875, 1.419022635), (2.483630084, 1.460464645), (2.915164146, 2.290787587))
            Line((2.915164146, 2.290787587), (2.427366725, 3.135677503))
            ThreePointArc((2.427366725, 3.135677503), (1.503804697, 3.192615402), (1.916276044, 4.02091253))
            Line((1.916276044, 4.02091253), (1.436397938, 4.852085792))
            ThreePointArc((1.436397938, 4.852085792), (0.532106306, 4.93312138), (0.914073244, 5.7567787))
            Line((0.914073244, 5.7567787), (0.432060736, 6.591648854))
            ThreePointArc((0.432060736, 6.591648854), (0, 6.385), (-0.432060736, 6.591648854))
            Line((-0.432060736, 6.591648854), (-0.717938034, 6.096494849))
        make_face()
    extrude(amount=BOSS_EXTRUDE1_DEPTH)

    # Sketch34 → Cut-Extrude4 (cut)
    with BuildSketch(Plane(origin=(0, 16, 0), x_dir=(1, 0, 0), z_dir=(0, 1, 0))):
        Circle(SKETCH34_R)
    extrude(amount=-CUT_EXTRUDE4_DEPTH, mode=Mode.SUBTRACT)

    # Sketch20 → Cut-Extrude5 (cut)
    with BuildSketch(Plane.ZY.offset(7.5)):
        with Locations((0, 3.9)):
            Circle(SKETCH20_R)
    extrude(amount=-CUT_EXTRUDE5_DEPTH, mode=Mode.SUBTRACT)

    # Sketch19 → Cut-Extrude6 (cut)
    with BuildSketch(Plane(origin=(0, 0, -7.5), x_dir=(-1, 0, 0), z_dir=(0, 0, -1))):
        with Locations((0, 3.9)):
            Circle(SKETCH19_R)
    extrude(amount=-CUT_EXTRUDE6_DEPTH, mode=Mode.SUBTRACT)

    # Sketch30 → Cut-Extrude7 (cut)
    with BuildSketch(Plane.XZ):
        with Locations((5.232590181, -5.232590181)):
            Circle(SKETCH30_R)
    extrude(amount=-CUT_EXTRUDE7_DEPTH, mode=Mode.SUBTRACT)


solid = part_1.part
